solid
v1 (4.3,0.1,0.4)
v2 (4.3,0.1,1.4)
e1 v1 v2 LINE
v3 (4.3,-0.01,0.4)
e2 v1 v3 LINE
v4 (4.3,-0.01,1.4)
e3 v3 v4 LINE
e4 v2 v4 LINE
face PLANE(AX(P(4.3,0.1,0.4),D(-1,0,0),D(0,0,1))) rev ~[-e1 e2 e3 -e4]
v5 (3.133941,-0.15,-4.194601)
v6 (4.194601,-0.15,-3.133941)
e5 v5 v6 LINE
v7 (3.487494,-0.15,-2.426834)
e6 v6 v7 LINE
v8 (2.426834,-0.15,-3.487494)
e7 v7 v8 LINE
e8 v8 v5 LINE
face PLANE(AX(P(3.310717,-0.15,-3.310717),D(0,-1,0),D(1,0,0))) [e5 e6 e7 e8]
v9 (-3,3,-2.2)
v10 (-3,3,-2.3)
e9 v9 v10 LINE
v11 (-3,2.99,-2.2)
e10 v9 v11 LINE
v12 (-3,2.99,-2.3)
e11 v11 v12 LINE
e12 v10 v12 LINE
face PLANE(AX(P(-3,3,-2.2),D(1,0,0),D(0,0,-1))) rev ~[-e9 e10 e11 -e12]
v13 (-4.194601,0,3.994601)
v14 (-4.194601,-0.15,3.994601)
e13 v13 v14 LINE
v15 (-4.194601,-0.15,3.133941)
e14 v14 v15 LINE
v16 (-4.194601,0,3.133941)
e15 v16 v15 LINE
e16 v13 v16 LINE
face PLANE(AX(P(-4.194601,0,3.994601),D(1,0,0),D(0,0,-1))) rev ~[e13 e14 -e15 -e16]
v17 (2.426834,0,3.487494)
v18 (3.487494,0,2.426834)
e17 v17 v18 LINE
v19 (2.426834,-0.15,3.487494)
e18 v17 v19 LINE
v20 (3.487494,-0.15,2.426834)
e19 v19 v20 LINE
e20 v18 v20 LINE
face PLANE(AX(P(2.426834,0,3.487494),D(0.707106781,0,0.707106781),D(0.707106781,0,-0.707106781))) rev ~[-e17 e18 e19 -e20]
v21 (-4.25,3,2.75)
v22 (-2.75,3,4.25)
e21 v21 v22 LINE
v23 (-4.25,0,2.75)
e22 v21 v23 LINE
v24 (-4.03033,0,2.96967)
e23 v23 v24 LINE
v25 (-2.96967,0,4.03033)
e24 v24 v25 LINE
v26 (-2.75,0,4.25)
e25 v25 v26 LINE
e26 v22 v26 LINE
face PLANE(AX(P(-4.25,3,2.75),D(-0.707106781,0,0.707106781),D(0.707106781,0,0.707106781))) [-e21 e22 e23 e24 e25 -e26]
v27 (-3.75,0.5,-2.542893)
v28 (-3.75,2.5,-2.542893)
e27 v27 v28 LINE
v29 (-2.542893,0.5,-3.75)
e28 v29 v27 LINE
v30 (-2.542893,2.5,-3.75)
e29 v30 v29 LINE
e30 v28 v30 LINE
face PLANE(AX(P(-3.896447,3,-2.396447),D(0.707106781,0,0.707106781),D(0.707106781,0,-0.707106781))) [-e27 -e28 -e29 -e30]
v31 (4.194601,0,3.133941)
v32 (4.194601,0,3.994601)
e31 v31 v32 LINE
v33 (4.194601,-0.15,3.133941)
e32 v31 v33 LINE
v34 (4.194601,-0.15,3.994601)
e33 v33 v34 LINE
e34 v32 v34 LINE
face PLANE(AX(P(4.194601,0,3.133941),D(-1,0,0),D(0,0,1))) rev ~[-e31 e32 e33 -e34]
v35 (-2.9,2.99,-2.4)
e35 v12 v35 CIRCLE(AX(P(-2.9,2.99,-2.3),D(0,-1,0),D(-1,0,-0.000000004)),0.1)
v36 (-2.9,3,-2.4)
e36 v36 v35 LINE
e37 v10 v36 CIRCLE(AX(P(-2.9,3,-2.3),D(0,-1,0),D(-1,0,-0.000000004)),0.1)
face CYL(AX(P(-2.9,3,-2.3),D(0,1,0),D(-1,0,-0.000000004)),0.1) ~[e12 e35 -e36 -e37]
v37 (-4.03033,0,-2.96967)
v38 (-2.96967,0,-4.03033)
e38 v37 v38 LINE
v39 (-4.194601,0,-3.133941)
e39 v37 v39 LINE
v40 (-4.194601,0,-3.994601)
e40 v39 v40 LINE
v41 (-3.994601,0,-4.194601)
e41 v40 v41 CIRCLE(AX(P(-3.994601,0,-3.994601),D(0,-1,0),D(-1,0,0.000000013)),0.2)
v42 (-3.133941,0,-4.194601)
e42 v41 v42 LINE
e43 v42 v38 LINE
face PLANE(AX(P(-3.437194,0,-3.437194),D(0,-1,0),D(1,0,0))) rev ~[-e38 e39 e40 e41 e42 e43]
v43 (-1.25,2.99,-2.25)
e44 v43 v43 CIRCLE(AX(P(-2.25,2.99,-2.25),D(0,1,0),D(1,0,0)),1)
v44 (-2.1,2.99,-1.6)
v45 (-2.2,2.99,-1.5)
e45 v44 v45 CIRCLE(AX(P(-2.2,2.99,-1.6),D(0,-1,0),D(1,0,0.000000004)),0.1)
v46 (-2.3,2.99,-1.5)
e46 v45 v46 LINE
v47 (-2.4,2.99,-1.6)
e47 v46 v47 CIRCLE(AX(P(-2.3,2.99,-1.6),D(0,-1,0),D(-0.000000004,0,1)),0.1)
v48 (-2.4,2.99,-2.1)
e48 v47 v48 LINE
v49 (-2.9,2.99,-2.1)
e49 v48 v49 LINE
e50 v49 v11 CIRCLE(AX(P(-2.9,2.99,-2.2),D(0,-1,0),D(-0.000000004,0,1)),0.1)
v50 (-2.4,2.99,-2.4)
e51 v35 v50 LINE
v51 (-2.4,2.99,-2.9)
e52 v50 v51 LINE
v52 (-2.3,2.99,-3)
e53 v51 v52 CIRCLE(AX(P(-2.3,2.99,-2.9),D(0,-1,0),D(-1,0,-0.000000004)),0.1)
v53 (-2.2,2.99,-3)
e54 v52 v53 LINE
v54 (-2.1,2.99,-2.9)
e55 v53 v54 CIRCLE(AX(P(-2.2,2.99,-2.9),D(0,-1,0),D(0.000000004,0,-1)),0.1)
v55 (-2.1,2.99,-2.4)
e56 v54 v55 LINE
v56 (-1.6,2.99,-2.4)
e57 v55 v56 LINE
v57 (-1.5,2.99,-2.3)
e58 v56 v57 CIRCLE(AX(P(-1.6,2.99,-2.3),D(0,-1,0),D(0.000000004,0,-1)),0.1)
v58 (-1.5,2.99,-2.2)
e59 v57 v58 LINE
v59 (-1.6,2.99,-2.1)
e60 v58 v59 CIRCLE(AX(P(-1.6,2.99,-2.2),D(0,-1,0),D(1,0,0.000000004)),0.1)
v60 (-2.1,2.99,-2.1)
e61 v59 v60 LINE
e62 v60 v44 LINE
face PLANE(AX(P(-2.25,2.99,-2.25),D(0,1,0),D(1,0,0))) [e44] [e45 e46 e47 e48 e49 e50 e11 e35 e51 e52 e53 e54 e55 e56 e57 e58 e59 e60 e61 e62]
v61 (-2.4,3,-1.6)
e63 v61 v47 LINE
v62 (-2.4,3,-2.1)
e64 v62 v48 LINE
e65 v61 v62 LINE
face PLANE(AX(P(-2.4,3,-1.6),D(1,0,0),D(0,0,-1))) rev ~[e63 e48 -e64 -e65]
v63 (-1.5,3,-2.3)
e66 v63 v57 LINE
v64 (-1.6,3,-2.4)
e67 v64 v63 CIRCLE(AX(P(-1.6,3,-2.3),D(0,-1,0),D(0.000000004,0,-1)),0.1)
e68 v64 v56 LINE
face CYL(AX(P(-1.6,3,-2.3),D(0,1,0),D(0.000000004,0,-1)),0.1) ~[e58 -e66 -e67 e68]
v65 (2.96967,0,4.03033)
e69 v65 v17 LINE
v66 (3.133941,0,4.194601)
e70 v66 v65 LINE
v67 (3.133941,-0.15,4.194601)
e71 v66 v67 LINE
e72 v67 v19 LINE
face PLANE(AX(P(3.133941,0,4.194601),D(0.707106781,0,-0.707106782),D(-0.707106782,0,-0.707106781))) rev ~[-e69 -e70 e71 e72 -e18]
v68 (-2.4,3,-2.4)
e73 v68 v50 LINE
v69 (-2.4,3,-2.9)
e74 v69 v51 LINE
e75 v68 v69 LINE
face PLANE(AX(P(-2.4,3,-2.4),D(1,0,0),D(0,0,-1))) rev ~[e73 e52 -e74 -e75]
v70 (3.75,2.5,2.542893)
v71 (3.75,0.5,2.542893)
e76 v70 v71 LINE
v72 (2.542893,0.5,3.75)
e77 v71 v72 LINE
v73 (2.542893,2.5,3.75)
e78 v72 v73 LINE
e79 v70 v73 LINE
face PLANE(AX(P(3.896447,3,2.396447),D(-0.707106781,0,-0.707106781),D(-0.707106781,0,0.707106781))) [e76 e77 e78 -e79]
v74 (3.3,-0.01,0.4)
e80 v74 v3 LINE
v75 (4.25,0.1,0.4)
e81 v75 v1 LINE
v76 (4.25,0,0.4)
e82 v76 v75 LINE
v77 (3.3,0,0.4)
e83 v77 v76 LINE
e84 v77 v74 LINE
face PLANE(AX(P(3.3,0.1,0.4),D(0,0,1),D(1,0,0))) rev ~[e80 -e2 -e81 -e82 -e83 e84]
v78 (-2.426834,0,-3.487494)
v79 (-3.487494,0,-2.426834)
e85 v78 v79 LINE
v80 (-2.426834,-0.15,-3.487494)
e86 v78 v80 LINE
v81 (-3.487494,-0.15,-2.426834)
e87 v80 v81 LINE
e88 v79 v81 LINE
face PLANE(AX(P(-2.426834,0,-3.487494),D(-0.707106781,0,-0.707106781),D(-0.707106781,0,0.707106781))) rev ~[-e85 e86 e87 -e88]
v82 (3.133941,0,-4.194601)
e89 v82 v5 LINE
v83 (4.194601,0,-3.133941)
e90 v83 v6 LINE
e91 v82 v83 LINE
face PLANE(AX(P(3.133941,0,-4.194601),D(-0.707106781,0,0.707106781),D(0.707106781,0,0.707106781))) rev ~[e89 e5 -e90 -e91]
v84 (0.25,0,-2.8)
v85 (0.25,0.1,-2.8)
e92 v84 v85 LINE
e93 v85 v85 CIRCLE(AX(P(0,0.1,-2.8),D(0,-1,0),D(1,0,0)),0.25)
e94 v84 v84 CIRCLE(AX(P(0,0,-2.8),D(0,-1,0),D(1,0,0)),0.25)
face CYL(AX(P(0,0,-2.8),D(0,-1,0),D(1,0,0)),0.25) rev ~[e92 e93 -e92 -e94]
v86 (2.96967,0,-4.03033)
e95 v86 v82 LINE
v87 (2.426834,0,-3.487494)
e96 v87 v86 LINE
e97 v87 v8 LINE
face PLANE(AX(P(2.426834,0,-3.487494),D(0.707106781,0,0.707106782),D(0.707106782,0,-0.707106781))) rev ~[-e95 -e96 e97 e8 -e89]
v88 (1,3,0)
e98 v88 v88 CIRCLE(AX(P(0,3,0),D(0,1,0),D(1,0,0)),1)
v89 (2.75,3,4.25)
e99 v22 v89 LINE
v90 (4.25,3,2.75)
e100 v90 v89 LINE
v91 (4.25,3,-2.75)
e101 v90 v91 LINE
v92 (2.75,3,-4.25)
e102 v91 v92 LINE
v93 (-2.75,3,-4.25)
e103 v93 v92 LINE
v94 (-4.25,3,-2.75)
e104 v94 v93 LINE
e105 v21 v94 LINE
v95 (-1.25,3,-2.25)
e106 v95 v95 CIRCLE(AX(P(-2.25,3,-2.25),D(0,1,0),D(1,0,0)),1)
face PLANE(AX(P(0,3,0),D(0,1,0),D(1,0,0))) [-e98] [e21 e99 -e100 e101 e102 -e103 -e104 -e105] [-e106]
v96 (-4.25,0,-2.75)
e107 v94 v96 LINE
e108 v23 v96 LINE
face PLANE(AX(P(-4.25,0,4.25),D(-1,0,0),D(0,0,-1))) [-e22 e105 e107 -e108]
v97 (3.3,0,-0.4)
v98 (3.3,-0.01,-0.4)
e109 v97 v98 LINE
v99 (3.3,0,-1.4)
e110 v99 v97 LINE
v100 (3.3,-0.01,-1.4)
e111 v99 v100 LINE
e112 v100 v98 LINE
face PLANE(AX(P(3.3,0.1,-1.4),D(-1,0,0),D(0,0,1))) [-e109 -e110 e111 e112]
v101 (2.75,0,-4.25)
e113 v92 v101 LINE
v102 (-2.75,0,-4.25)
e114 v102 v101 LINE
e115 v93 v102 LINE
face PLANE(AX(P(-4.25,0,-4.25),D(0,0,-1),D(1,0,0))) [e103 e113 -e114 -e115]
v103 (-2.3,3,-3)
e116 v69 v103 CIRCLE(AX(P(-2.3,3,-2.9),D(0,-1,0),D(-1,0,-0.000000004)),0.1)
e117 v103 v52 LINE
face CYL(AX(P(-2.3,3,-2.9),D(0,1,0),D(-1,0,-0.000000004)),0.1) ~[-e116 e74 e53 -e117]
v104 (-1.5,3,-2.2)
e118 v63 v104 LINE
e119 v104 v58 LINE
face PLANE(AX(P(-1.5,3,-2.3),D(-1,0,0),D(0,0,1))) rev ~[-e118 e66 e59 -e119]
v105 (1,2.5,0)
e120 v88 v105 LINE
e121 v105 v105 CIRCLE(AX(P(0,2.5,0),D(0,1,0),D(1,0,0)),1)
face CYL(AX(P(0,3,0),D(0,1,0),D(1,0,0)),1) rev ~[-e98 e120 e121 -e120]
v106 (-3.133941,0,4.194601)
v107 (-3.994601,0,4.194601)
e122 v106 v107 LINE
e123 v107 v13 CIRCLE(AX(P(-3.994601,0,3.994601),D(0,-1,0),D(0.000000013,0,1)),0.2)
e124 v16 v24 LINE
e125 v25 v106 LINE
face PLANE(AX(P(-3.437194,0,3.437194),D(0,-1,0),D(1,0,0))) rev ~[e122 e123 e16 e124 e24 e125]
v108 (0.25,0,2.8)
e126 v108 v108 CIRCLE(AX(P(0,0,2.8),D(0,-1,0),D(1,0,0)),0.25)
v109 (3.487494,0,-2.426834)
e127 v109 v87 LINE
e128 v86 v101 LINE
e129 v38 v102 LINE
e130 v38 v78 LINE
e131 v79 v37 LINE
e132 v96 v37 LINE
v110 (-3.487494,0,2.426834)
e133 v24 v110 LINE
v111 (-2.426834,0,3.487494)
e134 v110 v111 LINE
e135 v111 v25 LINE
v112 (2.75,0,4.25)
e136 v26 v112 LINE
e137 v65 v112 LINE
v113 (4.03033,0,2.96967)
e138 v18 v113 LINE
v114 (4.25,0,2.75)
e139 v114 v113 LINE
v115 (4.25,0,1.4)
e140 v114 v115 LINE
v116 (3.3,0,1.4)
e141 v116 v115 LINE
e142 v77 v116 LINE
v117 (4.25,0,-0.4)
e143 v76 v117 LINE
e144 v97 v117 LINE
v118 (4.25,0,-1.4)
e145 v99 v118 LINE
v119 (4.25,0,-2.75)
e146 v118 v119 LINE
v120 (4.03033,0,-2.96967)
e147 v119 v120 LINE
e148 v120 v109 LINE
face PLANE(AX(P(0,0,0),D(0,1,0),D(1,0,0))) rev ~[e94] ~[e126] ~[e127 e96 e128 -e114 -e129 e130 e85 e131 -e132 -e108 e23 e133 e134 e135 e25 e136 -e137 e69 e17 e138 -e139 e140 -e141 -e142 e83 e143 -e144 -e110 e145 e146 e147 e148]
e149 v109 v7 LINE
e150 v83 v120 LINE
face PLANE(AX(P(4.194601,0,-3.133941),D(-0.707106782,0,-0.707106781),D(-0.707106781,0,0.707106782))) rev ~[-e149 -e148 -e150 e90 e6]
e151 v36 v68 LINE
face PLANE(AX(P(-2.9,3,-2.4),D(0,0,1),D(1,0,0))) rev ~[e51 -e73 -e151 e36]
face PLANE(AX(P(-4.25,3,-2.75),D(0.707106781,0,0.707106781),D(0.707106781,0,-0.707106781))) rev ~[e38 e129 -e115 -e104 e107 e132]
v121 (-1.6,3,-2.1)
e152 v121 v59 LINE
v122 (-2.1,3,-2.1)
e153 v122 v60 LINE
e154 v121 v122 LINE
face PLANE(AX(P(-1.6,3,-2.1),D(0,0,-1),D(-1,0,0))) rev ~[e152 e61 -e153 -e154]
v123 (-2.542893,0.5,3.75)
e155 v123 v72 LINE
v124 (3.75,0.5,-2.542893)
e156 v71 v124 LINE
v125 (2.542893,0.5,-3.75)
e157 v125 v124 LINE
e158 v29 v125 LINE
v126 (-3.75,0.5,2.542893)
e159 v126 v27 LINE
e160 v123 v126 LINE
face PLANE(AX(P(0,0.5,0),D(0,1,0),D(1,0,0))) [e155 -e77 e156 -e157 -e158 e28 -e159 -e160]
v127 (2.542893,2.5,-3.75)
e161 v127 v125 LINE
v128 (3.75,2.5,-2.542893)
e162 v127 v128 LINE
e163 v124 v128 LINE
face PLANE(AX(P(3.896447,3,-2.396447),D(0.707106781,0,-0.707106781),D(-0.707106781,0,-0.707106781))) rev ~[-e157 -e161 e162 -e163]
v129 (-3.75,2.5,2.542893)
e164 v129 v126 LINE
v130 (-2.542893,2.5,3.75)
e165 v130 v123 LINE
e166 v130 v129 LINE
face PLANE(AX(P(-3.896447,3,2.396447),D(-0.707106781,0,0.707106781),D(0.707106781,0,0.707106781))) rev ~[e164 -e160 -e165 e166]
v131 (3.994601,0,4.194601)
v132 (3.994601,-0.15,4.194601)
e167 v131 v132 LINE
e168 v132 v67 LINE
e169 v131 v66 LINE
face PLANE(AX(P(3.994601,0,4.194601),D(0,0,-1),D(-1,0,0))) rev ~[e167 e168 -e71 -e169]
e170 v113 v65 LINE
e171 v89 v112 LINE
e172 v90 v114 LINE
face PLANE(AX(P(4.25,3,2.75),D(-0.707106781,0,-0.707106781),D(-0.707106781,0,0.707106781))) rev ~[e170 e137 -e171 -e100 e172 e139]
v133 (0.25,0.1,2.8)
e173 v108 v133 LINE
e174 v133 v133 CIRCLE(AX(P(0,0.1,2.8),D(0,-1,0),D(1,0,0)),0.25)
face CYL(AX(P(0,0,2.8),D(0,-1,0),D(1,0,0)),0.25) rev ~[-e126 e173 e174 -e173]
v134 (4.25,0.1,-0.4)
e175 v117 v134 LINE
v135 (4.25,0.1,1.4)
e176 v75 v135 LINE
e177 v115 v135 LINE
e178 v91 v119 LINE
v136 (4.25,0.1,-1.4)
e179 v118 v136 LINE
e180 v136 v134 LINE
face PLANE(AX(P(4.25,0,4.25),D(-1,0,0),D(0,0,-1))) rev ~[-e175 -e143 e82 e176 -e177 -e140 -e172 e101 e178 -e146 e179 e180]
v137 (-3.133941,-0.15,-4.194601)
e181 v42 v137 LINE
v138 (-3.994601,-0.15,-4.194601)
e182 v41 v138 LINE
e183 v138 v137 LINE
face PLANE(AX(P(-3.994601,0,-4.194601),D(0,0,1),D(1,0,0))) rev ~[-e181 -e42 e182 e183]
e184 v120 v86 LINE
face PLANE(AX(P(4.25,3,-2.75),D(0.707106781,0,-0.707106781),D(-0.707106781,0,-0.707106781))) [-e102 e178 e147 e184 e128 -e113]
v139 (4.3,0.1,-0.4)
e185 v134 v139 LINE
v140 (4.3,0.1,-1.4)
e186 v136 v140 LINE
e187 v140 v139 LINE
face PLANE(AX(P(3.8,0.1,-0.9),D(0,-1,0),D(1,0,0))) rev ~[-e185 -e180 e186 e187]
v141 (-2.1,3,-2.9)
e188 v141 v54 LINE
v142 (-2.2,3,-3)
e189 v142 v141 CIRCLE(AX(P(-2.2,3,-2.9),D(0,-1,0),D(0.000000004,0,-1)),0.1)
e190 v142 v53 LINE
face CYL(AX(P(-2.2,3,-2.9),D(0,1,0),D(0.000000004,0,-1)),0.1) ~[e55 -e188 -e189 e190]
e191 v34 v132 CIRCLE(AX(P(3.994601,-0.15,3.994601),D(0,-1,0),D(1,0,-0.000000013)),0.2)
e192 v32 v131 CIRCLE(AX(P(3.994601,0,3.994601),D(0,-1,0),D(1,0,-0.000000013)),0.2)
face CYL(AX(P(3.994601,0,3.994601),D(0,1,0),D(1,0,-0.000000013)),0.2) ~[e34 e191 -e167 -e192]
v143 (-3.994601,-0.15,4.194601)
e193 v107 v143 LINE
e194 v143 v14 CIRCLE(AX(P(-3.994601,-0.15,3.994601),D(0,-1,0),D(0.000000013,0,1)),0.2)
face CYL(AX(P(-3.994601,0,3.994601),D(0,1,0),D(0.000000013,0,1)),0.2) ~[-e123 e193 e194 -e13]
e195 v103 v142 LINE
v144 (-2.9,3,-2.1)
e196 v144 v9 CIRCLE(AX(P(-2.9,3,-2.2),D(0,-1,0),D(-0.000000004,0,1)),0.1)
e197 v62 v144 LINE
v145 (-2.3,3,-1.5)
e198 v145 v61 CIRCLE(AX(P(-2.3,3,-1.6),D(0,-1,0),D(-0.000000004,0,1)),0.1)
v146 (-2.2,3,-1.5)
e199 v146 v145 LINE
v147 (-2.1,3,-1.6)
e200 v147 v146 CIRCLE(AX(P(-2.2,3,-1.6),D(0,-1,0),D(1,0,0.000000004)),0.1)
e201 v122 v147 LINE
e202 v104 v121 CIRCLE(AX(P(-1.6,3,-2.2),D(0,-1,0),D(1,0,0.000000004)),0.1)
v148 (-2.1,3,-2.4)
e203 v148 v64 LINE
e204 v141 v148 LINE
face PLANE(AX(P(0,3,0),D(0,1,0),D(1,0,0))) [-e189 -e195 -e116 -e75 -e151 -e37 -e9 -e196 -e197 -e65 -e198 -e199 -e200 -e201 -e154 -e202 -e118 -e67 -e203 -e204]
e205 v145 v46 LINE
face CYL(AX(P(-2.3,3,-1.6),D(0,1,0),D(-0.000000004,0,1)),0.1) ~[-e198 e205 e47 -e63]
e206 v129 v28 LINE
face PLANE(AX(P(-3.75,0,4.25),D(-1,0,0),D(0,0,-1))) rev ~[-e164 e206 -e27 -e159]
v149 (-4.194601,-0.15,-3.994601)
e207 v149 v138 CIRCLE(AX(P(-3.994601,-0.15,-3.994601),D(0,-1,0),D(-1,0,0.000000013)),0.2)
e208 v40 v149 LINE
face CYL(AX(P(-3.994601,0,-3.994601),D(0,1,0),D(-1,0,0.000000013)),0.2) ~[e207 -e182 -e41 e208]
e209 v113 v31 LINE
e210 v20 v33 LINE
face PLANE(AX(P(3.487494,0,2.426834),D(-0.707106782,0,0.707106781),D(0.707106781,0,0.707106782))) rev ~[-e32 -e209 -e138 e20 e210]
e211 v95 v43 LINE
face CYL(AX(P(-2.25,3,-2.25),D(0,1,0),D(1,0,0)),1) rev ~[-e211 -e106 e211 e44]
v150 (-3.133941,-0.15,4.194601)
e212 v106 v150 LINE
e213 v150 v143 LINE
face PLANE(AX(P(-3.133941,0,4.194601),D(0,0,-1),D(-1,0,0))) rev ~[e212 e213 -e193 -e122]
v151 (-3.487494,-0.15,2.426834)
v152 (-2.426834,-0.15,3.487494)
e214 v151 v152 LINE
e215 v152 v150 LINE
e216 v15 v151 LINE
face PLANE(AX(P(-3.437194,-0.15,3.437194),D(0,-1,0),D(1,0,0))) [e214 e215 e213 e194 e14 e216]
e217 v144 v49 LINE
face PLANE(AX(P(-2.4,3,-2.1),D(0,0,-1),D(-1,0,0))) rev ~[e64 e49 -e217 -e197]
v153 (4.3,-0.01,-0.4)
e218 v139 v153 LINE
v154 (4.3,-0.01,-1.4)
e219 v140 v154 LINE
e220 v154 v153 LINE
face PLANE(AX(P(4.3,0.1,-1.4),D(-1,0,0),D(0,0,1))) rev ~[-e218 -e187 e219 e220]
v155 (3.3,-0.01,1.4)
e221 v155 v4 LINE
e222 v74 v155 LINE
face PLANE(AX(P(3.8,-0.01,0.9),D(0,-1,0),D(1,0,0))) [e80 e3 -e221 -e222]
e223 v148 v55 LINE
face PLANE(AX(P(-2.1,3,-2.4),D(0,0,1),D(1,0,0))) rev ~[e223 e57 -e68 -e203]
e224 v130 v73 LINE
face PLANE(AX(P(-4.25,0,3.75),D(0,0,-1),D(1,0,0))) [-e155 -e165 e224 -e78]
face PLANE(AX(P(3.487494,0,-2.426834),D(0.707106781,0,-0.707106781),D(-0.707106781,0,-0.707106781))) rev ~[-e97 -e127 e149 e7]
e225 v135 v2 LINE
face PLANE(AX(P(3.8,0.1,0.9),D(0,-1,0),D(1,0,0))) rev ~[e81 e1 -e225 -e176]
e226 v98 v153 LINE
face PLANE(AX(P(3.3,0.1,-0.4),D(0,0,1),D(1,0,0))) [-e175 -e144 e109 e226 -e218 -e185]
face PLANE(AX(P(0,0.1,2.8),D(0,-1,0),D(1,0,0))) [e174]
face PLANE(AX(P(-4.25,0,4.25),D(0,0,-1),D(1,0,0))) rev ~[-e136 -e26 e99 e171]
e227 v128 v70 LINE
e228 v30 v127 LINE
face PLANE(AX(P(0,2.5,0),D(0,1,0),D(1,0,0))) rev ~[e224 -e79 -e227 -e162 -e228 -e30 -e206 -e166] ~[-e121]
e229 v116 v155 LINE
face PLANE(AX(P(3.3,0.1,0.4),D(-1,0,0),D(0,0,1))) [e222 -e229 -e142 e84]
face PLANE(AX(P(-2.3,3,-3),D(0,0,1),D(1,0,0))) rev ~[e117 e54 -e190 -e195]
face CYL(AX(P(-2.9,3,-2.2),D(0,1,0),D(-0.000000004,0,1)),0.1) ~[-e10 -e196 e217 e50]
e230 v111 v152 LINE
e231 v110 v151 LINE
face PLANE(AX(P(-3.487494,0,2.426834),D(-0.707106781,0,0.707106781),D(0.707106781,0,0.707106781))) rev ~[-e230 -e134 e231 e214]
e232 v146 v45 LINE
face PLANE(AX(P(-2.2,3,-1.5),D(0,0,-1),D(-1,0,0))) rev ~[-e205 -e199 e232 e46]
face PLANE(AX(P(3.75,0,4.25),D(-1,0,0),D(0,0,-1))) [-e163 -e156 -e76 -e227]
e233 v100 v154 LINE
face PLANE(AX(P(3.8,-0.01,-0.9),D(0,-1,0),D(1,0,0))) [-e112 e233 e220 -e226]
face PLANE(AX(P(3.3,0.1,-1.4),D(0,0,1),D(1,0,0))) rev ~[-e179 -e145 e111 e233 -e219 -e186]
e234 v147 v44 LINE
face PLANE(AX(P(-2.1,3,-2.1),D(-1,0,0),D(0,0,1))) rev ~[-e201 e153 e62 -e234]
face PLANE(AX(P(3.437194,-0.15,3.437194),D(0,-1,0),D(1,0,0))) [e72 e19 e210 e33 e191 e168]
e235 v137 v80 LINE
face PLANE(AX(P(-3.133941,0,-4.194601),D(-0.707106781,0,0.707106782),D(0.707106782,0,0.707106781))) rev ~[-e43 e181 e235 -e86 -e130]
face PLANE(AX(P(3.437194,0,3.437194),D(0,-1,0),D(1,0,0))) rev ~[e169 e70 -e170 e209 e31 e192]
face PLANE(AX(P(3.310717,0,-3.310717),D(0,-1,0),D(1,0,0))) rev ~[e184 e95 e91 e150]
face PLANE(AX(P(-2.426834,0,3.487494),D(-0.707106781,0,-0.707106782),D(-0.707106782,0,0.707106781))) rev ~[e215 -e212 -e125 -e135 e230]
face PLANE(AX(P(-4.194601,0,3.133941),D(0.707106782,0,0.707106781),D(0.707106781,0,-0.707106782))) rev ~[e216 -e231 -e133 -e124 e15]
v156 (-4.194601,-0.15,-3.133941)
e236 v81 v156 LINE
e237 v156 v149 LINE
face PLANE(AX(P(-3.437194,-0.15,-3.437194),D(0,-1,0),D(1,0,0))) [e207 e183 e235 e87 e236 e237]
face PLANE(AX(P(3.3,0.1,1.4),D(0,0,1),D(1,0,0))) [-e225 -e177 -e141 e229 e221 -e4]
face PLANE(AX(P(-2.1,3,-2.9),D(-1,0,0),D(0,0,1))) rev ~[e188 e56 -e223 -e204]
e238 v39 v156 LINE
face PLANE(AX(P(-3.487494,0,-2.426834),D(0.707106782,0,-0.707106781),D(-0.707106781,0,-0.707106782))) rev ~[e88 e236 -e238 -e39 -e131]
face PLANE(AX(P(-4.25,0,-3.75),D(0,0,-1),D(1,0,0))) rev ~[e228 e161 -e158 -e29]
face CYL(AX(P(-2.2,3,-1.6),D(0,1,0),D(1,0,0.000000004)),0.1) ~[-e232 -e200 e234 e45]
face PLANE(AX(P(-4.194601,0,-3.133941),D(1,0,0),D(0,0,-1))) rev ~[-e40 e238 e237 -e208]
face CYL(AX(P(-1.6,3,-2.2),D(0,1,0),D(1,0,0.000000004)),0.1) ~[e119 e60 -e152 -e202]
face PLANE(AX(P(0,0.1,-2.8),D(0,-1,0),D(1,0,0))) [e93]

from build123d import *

# Parameters (mm, degrees)
SKETCH1_W                = 8.5
SKETCH1_H                = 8.5
BOSS_EXTRUDE1_DEPTH      = 3
CUT_EXTRUDE1_DEPTH       = 3
SHELL2_T                 = 0.5
SKETCH3_R                = 1
CUT_EXTRUDE2_DEPTH       = 0.5
BOSS_EXTRUDE2_DEPTH      = 0.15
SKETCH5_R                = 1
CUT_EXTRUDE3_DEPTH       = 0.01
BOSS_EXTRUDE3_DEPTH      = 0.01
BOSS_EXTRUDE3_DEPTH_BACK = 0.1
SKETCH6_W                = 1
SKETCH6_H                = 1
SKETCH7_R                = 0.25
CUT_EXTRUDE4_DEPTH       = 0.1


with BuildPart() as part:
    # Sketch1 → Boss-Extrude1 (new body)
    with BuildSketch(Plane(origin=(0, 0, 0), x_dir=(1, 0, 0), z_dir=(0, 1, 0))):
        Rectangle(SKETCH1_W, SKETCH1_H)
    extrude(amount=BOSS_EXTRUDE1_DEPTH)

    # Sketch2 → Cut-Extrude1 (cut)
    with BuildSketch(Plane(origin=(0, 3, 0), x_dir=(1, 0, 0), z_dir=(0, 1, 0))):
        Polygon((-4.25, 2.75), (-2.75, 4.25), (-4.25, 4.25), align=None)
        Polygon((4.25, 4.25), (4.25, 2.75), (2.75, 4.25), align=None)
        Polygon((4.25, -2.75), (2.75, -4.25), (4.25, -4.25), align=None)
        Polygon((-4.25, -4.25), (-4.25, -2.75), (-2.75, -4.25), align=None)
    extrude(amount=-CUT_EXTRUDE1_DEPTH, mode=Mode.SUBTRACT)

    # Shell2 (no face opened: a closed hollow body)
    add(offset(amount=-SHELL2_T, mode=Mode.PRIVATE), mode=Mode.SUBTRACT)

    # Sketch3 → Cut-Extrude2 (cut)
    with BuildSketch(Plane(origin=(0, 3, 0), x_dir=(1, 0, 0), z_dir=(0, 1, 0))):
        Circle(SKETCH3_R)
    extrude(amount=-CUT_EXTRUDE2_DEPTH, mode=Mode.SUBTRACT)

    # Sketch4 → Boss-Extrude2 (add)
    with BuildSketch(Plane.XZ):
        with BuildLine():
            Line((-4.194600731, 3.13394056), (-3.48749395, 2.426833778))
            Line((-3.48749395, 2.426833778), (-2.426833778, 3.48749395))
            Line((-2.426833778, 3.48749395), (-3.13394056, 4.194600731))
            Line((-3.13394056, 4.194600731), (-3.994600731, 4.194600731))
            ThreePointArc((-3.994600731, 4.194600731), (-4.136022088, 4.136022088), (-4.194600731, 3.994600731))
            Line((-4.194600731, 3.994600731), (-4.194600731, 3.13394056))
        make_face()
        with BuildLine():
            Line((4.194600731, 3.13394056), (4.194600731, 3.994600731))
            ThreePointArc((4.194600731, 3.994600731), (4.136022088, 4.136022088), (3.994600731, 4.194600731))
            Line((3.994600731, 4.194600731), (3.13394056, 4.194600731))
            Line((3.13394056, 4.194600731), (2.426833778, 3.48749395))
            Line((2.426833778, 3.48749395), (3.48749395, 2.426833778))
            Line((3.48749395, 2.426833778), (4.194600731, 3.13394056))
        make_face()
        Polygon((4.194600731, -3.13394056), (3.48749395, -2.426833778), (2.426833778, -3.48749395), (3.13394056, -4.194600731), align=None)
        with BuildLine():
            Line((-4.194600731, -3.13394056), (-4.194600731, -3.994600731))
            ThreePointArc((-4.194600731, -3.994600731), (-4.136022088, -4.136022088), (-3.994600731, -4.194600731))
            Line((-3.994600731, -4.194600731), (-3.13394056, -4.194600731))
            Line((-3.13394056, -4.194600731), (-2.426833778, -3.48749395))
            Line((-2.426833778, -3.48749395), (-3.48749395, -2.426833778))
            Line((-3.48749395, -2.426833778), (-4.194600731, -3.13394056))
        make_face()
    extrude(amount=BOSS_EXTRUDE2_DEPTH)

    # Sketch5 → Cut-Extrude3 (cut)
    with BuildSketch(Plane(origin=(0, 3, 0), x_dir=(1, 0, 0), z_dir=(0, 1, 0))):
        with Locations((-2.25, 2.25)):
            Circle(SKETCH5_R)
        with BuildLine():
            ThreePointArc((-3, 2.3), (-2.970710678, 2.370710678), (-2.9, 2.4))
            Line((-2.9, 2.4), (-2.4, 2.4))
            Line((-2.4, 2.4), (-2.4, 2.9))
            ThreePointArc((-2.4, 2.9), (-2.370710678, 2.970710678), (-2.3, 3))
            Line((-2.3, 3), (-2.2, 3))
            ThreePointArc((-2.2, 3), (-2.129289322, 2.970710678), (-2.1, 2.9))
            Line((-2.1, 2.9), (-2.1, 2.4))
            Line((-2.1, 2.4), (-1.6, 2.4))
            ThreePointArc((-1.6, 2.4), (-1.529289322, 2.370710678), (-1.5, 2.3))
            Line((-1.5, 2.3), (-1.5, 2.2))
            ThreePointArc((-1.5, 2.2), (-1.529289322, 2.129289322), (-1.6, 2.1))
            Line((-1.6, 2.1), (-2.1, 2.1))
            Line((-2.1, 2.1), (-2.1, 1.6))
            ThreePointArc((-2.1, 1.6), (-2.129289322, 1.529289322), (-2.2, 1.5))
            Line((-2.2, 1.5), (-2.3, 1.5))
            ThreePointArc((-2.3, 1.5), (-2.370710678, 1.529289322), (-2.4, 1.6))
            Line((-2.4, 1.6), (-2.4, 2.1))
            Line((-2.4, 2.1), (-2.9, 2.1))
            ThreePointArc((-2.9, 2.1), (-2.970710678, 2.129289322), (-3, 2.2))
            Line((-3, 2.2), (-3, 2.3))
        make_face(mode=Mode.SUBTRACT)
    extrude(amount=-CUT_EXTRUDE3_DEPTH, mode=Mode.SUBTRACT)

    # Sketch6 → Boss-Extrude3 (add, two sides: drawn at the far end of the back side and taken through both)
    with BuildSketch(Plane.XZ.offset(-BOSS_EXTRUDE3_DEPTH_BACK)):
        with Locations((3.8, 0.9)):
            Rectangle(SKETCH6_W, SKETCH6_H)
        with Locations((3.8, -0.9)):
            Rectangle(SKETCH6_W, SKETCH6_H)
    extrude(amount=BOSS_EXTRUDE3_DEPTH + BOSS_EXTRUDE3_DEPTH_BACK)

    # Sketch7 → Cut-Extrude4 (cut)
    with BuildSketch(Plane.XZ):
        with Locations((0, 2.8)):
            Circle(SKETCH7_R)
        with Locations((0, -2.8)):
            Circle(SKETCH7_R)
    extrude(amount=-CUT_EXTRUDE4_DEPTH, mode=Mode.SUBTRACT)


solid = part.part
